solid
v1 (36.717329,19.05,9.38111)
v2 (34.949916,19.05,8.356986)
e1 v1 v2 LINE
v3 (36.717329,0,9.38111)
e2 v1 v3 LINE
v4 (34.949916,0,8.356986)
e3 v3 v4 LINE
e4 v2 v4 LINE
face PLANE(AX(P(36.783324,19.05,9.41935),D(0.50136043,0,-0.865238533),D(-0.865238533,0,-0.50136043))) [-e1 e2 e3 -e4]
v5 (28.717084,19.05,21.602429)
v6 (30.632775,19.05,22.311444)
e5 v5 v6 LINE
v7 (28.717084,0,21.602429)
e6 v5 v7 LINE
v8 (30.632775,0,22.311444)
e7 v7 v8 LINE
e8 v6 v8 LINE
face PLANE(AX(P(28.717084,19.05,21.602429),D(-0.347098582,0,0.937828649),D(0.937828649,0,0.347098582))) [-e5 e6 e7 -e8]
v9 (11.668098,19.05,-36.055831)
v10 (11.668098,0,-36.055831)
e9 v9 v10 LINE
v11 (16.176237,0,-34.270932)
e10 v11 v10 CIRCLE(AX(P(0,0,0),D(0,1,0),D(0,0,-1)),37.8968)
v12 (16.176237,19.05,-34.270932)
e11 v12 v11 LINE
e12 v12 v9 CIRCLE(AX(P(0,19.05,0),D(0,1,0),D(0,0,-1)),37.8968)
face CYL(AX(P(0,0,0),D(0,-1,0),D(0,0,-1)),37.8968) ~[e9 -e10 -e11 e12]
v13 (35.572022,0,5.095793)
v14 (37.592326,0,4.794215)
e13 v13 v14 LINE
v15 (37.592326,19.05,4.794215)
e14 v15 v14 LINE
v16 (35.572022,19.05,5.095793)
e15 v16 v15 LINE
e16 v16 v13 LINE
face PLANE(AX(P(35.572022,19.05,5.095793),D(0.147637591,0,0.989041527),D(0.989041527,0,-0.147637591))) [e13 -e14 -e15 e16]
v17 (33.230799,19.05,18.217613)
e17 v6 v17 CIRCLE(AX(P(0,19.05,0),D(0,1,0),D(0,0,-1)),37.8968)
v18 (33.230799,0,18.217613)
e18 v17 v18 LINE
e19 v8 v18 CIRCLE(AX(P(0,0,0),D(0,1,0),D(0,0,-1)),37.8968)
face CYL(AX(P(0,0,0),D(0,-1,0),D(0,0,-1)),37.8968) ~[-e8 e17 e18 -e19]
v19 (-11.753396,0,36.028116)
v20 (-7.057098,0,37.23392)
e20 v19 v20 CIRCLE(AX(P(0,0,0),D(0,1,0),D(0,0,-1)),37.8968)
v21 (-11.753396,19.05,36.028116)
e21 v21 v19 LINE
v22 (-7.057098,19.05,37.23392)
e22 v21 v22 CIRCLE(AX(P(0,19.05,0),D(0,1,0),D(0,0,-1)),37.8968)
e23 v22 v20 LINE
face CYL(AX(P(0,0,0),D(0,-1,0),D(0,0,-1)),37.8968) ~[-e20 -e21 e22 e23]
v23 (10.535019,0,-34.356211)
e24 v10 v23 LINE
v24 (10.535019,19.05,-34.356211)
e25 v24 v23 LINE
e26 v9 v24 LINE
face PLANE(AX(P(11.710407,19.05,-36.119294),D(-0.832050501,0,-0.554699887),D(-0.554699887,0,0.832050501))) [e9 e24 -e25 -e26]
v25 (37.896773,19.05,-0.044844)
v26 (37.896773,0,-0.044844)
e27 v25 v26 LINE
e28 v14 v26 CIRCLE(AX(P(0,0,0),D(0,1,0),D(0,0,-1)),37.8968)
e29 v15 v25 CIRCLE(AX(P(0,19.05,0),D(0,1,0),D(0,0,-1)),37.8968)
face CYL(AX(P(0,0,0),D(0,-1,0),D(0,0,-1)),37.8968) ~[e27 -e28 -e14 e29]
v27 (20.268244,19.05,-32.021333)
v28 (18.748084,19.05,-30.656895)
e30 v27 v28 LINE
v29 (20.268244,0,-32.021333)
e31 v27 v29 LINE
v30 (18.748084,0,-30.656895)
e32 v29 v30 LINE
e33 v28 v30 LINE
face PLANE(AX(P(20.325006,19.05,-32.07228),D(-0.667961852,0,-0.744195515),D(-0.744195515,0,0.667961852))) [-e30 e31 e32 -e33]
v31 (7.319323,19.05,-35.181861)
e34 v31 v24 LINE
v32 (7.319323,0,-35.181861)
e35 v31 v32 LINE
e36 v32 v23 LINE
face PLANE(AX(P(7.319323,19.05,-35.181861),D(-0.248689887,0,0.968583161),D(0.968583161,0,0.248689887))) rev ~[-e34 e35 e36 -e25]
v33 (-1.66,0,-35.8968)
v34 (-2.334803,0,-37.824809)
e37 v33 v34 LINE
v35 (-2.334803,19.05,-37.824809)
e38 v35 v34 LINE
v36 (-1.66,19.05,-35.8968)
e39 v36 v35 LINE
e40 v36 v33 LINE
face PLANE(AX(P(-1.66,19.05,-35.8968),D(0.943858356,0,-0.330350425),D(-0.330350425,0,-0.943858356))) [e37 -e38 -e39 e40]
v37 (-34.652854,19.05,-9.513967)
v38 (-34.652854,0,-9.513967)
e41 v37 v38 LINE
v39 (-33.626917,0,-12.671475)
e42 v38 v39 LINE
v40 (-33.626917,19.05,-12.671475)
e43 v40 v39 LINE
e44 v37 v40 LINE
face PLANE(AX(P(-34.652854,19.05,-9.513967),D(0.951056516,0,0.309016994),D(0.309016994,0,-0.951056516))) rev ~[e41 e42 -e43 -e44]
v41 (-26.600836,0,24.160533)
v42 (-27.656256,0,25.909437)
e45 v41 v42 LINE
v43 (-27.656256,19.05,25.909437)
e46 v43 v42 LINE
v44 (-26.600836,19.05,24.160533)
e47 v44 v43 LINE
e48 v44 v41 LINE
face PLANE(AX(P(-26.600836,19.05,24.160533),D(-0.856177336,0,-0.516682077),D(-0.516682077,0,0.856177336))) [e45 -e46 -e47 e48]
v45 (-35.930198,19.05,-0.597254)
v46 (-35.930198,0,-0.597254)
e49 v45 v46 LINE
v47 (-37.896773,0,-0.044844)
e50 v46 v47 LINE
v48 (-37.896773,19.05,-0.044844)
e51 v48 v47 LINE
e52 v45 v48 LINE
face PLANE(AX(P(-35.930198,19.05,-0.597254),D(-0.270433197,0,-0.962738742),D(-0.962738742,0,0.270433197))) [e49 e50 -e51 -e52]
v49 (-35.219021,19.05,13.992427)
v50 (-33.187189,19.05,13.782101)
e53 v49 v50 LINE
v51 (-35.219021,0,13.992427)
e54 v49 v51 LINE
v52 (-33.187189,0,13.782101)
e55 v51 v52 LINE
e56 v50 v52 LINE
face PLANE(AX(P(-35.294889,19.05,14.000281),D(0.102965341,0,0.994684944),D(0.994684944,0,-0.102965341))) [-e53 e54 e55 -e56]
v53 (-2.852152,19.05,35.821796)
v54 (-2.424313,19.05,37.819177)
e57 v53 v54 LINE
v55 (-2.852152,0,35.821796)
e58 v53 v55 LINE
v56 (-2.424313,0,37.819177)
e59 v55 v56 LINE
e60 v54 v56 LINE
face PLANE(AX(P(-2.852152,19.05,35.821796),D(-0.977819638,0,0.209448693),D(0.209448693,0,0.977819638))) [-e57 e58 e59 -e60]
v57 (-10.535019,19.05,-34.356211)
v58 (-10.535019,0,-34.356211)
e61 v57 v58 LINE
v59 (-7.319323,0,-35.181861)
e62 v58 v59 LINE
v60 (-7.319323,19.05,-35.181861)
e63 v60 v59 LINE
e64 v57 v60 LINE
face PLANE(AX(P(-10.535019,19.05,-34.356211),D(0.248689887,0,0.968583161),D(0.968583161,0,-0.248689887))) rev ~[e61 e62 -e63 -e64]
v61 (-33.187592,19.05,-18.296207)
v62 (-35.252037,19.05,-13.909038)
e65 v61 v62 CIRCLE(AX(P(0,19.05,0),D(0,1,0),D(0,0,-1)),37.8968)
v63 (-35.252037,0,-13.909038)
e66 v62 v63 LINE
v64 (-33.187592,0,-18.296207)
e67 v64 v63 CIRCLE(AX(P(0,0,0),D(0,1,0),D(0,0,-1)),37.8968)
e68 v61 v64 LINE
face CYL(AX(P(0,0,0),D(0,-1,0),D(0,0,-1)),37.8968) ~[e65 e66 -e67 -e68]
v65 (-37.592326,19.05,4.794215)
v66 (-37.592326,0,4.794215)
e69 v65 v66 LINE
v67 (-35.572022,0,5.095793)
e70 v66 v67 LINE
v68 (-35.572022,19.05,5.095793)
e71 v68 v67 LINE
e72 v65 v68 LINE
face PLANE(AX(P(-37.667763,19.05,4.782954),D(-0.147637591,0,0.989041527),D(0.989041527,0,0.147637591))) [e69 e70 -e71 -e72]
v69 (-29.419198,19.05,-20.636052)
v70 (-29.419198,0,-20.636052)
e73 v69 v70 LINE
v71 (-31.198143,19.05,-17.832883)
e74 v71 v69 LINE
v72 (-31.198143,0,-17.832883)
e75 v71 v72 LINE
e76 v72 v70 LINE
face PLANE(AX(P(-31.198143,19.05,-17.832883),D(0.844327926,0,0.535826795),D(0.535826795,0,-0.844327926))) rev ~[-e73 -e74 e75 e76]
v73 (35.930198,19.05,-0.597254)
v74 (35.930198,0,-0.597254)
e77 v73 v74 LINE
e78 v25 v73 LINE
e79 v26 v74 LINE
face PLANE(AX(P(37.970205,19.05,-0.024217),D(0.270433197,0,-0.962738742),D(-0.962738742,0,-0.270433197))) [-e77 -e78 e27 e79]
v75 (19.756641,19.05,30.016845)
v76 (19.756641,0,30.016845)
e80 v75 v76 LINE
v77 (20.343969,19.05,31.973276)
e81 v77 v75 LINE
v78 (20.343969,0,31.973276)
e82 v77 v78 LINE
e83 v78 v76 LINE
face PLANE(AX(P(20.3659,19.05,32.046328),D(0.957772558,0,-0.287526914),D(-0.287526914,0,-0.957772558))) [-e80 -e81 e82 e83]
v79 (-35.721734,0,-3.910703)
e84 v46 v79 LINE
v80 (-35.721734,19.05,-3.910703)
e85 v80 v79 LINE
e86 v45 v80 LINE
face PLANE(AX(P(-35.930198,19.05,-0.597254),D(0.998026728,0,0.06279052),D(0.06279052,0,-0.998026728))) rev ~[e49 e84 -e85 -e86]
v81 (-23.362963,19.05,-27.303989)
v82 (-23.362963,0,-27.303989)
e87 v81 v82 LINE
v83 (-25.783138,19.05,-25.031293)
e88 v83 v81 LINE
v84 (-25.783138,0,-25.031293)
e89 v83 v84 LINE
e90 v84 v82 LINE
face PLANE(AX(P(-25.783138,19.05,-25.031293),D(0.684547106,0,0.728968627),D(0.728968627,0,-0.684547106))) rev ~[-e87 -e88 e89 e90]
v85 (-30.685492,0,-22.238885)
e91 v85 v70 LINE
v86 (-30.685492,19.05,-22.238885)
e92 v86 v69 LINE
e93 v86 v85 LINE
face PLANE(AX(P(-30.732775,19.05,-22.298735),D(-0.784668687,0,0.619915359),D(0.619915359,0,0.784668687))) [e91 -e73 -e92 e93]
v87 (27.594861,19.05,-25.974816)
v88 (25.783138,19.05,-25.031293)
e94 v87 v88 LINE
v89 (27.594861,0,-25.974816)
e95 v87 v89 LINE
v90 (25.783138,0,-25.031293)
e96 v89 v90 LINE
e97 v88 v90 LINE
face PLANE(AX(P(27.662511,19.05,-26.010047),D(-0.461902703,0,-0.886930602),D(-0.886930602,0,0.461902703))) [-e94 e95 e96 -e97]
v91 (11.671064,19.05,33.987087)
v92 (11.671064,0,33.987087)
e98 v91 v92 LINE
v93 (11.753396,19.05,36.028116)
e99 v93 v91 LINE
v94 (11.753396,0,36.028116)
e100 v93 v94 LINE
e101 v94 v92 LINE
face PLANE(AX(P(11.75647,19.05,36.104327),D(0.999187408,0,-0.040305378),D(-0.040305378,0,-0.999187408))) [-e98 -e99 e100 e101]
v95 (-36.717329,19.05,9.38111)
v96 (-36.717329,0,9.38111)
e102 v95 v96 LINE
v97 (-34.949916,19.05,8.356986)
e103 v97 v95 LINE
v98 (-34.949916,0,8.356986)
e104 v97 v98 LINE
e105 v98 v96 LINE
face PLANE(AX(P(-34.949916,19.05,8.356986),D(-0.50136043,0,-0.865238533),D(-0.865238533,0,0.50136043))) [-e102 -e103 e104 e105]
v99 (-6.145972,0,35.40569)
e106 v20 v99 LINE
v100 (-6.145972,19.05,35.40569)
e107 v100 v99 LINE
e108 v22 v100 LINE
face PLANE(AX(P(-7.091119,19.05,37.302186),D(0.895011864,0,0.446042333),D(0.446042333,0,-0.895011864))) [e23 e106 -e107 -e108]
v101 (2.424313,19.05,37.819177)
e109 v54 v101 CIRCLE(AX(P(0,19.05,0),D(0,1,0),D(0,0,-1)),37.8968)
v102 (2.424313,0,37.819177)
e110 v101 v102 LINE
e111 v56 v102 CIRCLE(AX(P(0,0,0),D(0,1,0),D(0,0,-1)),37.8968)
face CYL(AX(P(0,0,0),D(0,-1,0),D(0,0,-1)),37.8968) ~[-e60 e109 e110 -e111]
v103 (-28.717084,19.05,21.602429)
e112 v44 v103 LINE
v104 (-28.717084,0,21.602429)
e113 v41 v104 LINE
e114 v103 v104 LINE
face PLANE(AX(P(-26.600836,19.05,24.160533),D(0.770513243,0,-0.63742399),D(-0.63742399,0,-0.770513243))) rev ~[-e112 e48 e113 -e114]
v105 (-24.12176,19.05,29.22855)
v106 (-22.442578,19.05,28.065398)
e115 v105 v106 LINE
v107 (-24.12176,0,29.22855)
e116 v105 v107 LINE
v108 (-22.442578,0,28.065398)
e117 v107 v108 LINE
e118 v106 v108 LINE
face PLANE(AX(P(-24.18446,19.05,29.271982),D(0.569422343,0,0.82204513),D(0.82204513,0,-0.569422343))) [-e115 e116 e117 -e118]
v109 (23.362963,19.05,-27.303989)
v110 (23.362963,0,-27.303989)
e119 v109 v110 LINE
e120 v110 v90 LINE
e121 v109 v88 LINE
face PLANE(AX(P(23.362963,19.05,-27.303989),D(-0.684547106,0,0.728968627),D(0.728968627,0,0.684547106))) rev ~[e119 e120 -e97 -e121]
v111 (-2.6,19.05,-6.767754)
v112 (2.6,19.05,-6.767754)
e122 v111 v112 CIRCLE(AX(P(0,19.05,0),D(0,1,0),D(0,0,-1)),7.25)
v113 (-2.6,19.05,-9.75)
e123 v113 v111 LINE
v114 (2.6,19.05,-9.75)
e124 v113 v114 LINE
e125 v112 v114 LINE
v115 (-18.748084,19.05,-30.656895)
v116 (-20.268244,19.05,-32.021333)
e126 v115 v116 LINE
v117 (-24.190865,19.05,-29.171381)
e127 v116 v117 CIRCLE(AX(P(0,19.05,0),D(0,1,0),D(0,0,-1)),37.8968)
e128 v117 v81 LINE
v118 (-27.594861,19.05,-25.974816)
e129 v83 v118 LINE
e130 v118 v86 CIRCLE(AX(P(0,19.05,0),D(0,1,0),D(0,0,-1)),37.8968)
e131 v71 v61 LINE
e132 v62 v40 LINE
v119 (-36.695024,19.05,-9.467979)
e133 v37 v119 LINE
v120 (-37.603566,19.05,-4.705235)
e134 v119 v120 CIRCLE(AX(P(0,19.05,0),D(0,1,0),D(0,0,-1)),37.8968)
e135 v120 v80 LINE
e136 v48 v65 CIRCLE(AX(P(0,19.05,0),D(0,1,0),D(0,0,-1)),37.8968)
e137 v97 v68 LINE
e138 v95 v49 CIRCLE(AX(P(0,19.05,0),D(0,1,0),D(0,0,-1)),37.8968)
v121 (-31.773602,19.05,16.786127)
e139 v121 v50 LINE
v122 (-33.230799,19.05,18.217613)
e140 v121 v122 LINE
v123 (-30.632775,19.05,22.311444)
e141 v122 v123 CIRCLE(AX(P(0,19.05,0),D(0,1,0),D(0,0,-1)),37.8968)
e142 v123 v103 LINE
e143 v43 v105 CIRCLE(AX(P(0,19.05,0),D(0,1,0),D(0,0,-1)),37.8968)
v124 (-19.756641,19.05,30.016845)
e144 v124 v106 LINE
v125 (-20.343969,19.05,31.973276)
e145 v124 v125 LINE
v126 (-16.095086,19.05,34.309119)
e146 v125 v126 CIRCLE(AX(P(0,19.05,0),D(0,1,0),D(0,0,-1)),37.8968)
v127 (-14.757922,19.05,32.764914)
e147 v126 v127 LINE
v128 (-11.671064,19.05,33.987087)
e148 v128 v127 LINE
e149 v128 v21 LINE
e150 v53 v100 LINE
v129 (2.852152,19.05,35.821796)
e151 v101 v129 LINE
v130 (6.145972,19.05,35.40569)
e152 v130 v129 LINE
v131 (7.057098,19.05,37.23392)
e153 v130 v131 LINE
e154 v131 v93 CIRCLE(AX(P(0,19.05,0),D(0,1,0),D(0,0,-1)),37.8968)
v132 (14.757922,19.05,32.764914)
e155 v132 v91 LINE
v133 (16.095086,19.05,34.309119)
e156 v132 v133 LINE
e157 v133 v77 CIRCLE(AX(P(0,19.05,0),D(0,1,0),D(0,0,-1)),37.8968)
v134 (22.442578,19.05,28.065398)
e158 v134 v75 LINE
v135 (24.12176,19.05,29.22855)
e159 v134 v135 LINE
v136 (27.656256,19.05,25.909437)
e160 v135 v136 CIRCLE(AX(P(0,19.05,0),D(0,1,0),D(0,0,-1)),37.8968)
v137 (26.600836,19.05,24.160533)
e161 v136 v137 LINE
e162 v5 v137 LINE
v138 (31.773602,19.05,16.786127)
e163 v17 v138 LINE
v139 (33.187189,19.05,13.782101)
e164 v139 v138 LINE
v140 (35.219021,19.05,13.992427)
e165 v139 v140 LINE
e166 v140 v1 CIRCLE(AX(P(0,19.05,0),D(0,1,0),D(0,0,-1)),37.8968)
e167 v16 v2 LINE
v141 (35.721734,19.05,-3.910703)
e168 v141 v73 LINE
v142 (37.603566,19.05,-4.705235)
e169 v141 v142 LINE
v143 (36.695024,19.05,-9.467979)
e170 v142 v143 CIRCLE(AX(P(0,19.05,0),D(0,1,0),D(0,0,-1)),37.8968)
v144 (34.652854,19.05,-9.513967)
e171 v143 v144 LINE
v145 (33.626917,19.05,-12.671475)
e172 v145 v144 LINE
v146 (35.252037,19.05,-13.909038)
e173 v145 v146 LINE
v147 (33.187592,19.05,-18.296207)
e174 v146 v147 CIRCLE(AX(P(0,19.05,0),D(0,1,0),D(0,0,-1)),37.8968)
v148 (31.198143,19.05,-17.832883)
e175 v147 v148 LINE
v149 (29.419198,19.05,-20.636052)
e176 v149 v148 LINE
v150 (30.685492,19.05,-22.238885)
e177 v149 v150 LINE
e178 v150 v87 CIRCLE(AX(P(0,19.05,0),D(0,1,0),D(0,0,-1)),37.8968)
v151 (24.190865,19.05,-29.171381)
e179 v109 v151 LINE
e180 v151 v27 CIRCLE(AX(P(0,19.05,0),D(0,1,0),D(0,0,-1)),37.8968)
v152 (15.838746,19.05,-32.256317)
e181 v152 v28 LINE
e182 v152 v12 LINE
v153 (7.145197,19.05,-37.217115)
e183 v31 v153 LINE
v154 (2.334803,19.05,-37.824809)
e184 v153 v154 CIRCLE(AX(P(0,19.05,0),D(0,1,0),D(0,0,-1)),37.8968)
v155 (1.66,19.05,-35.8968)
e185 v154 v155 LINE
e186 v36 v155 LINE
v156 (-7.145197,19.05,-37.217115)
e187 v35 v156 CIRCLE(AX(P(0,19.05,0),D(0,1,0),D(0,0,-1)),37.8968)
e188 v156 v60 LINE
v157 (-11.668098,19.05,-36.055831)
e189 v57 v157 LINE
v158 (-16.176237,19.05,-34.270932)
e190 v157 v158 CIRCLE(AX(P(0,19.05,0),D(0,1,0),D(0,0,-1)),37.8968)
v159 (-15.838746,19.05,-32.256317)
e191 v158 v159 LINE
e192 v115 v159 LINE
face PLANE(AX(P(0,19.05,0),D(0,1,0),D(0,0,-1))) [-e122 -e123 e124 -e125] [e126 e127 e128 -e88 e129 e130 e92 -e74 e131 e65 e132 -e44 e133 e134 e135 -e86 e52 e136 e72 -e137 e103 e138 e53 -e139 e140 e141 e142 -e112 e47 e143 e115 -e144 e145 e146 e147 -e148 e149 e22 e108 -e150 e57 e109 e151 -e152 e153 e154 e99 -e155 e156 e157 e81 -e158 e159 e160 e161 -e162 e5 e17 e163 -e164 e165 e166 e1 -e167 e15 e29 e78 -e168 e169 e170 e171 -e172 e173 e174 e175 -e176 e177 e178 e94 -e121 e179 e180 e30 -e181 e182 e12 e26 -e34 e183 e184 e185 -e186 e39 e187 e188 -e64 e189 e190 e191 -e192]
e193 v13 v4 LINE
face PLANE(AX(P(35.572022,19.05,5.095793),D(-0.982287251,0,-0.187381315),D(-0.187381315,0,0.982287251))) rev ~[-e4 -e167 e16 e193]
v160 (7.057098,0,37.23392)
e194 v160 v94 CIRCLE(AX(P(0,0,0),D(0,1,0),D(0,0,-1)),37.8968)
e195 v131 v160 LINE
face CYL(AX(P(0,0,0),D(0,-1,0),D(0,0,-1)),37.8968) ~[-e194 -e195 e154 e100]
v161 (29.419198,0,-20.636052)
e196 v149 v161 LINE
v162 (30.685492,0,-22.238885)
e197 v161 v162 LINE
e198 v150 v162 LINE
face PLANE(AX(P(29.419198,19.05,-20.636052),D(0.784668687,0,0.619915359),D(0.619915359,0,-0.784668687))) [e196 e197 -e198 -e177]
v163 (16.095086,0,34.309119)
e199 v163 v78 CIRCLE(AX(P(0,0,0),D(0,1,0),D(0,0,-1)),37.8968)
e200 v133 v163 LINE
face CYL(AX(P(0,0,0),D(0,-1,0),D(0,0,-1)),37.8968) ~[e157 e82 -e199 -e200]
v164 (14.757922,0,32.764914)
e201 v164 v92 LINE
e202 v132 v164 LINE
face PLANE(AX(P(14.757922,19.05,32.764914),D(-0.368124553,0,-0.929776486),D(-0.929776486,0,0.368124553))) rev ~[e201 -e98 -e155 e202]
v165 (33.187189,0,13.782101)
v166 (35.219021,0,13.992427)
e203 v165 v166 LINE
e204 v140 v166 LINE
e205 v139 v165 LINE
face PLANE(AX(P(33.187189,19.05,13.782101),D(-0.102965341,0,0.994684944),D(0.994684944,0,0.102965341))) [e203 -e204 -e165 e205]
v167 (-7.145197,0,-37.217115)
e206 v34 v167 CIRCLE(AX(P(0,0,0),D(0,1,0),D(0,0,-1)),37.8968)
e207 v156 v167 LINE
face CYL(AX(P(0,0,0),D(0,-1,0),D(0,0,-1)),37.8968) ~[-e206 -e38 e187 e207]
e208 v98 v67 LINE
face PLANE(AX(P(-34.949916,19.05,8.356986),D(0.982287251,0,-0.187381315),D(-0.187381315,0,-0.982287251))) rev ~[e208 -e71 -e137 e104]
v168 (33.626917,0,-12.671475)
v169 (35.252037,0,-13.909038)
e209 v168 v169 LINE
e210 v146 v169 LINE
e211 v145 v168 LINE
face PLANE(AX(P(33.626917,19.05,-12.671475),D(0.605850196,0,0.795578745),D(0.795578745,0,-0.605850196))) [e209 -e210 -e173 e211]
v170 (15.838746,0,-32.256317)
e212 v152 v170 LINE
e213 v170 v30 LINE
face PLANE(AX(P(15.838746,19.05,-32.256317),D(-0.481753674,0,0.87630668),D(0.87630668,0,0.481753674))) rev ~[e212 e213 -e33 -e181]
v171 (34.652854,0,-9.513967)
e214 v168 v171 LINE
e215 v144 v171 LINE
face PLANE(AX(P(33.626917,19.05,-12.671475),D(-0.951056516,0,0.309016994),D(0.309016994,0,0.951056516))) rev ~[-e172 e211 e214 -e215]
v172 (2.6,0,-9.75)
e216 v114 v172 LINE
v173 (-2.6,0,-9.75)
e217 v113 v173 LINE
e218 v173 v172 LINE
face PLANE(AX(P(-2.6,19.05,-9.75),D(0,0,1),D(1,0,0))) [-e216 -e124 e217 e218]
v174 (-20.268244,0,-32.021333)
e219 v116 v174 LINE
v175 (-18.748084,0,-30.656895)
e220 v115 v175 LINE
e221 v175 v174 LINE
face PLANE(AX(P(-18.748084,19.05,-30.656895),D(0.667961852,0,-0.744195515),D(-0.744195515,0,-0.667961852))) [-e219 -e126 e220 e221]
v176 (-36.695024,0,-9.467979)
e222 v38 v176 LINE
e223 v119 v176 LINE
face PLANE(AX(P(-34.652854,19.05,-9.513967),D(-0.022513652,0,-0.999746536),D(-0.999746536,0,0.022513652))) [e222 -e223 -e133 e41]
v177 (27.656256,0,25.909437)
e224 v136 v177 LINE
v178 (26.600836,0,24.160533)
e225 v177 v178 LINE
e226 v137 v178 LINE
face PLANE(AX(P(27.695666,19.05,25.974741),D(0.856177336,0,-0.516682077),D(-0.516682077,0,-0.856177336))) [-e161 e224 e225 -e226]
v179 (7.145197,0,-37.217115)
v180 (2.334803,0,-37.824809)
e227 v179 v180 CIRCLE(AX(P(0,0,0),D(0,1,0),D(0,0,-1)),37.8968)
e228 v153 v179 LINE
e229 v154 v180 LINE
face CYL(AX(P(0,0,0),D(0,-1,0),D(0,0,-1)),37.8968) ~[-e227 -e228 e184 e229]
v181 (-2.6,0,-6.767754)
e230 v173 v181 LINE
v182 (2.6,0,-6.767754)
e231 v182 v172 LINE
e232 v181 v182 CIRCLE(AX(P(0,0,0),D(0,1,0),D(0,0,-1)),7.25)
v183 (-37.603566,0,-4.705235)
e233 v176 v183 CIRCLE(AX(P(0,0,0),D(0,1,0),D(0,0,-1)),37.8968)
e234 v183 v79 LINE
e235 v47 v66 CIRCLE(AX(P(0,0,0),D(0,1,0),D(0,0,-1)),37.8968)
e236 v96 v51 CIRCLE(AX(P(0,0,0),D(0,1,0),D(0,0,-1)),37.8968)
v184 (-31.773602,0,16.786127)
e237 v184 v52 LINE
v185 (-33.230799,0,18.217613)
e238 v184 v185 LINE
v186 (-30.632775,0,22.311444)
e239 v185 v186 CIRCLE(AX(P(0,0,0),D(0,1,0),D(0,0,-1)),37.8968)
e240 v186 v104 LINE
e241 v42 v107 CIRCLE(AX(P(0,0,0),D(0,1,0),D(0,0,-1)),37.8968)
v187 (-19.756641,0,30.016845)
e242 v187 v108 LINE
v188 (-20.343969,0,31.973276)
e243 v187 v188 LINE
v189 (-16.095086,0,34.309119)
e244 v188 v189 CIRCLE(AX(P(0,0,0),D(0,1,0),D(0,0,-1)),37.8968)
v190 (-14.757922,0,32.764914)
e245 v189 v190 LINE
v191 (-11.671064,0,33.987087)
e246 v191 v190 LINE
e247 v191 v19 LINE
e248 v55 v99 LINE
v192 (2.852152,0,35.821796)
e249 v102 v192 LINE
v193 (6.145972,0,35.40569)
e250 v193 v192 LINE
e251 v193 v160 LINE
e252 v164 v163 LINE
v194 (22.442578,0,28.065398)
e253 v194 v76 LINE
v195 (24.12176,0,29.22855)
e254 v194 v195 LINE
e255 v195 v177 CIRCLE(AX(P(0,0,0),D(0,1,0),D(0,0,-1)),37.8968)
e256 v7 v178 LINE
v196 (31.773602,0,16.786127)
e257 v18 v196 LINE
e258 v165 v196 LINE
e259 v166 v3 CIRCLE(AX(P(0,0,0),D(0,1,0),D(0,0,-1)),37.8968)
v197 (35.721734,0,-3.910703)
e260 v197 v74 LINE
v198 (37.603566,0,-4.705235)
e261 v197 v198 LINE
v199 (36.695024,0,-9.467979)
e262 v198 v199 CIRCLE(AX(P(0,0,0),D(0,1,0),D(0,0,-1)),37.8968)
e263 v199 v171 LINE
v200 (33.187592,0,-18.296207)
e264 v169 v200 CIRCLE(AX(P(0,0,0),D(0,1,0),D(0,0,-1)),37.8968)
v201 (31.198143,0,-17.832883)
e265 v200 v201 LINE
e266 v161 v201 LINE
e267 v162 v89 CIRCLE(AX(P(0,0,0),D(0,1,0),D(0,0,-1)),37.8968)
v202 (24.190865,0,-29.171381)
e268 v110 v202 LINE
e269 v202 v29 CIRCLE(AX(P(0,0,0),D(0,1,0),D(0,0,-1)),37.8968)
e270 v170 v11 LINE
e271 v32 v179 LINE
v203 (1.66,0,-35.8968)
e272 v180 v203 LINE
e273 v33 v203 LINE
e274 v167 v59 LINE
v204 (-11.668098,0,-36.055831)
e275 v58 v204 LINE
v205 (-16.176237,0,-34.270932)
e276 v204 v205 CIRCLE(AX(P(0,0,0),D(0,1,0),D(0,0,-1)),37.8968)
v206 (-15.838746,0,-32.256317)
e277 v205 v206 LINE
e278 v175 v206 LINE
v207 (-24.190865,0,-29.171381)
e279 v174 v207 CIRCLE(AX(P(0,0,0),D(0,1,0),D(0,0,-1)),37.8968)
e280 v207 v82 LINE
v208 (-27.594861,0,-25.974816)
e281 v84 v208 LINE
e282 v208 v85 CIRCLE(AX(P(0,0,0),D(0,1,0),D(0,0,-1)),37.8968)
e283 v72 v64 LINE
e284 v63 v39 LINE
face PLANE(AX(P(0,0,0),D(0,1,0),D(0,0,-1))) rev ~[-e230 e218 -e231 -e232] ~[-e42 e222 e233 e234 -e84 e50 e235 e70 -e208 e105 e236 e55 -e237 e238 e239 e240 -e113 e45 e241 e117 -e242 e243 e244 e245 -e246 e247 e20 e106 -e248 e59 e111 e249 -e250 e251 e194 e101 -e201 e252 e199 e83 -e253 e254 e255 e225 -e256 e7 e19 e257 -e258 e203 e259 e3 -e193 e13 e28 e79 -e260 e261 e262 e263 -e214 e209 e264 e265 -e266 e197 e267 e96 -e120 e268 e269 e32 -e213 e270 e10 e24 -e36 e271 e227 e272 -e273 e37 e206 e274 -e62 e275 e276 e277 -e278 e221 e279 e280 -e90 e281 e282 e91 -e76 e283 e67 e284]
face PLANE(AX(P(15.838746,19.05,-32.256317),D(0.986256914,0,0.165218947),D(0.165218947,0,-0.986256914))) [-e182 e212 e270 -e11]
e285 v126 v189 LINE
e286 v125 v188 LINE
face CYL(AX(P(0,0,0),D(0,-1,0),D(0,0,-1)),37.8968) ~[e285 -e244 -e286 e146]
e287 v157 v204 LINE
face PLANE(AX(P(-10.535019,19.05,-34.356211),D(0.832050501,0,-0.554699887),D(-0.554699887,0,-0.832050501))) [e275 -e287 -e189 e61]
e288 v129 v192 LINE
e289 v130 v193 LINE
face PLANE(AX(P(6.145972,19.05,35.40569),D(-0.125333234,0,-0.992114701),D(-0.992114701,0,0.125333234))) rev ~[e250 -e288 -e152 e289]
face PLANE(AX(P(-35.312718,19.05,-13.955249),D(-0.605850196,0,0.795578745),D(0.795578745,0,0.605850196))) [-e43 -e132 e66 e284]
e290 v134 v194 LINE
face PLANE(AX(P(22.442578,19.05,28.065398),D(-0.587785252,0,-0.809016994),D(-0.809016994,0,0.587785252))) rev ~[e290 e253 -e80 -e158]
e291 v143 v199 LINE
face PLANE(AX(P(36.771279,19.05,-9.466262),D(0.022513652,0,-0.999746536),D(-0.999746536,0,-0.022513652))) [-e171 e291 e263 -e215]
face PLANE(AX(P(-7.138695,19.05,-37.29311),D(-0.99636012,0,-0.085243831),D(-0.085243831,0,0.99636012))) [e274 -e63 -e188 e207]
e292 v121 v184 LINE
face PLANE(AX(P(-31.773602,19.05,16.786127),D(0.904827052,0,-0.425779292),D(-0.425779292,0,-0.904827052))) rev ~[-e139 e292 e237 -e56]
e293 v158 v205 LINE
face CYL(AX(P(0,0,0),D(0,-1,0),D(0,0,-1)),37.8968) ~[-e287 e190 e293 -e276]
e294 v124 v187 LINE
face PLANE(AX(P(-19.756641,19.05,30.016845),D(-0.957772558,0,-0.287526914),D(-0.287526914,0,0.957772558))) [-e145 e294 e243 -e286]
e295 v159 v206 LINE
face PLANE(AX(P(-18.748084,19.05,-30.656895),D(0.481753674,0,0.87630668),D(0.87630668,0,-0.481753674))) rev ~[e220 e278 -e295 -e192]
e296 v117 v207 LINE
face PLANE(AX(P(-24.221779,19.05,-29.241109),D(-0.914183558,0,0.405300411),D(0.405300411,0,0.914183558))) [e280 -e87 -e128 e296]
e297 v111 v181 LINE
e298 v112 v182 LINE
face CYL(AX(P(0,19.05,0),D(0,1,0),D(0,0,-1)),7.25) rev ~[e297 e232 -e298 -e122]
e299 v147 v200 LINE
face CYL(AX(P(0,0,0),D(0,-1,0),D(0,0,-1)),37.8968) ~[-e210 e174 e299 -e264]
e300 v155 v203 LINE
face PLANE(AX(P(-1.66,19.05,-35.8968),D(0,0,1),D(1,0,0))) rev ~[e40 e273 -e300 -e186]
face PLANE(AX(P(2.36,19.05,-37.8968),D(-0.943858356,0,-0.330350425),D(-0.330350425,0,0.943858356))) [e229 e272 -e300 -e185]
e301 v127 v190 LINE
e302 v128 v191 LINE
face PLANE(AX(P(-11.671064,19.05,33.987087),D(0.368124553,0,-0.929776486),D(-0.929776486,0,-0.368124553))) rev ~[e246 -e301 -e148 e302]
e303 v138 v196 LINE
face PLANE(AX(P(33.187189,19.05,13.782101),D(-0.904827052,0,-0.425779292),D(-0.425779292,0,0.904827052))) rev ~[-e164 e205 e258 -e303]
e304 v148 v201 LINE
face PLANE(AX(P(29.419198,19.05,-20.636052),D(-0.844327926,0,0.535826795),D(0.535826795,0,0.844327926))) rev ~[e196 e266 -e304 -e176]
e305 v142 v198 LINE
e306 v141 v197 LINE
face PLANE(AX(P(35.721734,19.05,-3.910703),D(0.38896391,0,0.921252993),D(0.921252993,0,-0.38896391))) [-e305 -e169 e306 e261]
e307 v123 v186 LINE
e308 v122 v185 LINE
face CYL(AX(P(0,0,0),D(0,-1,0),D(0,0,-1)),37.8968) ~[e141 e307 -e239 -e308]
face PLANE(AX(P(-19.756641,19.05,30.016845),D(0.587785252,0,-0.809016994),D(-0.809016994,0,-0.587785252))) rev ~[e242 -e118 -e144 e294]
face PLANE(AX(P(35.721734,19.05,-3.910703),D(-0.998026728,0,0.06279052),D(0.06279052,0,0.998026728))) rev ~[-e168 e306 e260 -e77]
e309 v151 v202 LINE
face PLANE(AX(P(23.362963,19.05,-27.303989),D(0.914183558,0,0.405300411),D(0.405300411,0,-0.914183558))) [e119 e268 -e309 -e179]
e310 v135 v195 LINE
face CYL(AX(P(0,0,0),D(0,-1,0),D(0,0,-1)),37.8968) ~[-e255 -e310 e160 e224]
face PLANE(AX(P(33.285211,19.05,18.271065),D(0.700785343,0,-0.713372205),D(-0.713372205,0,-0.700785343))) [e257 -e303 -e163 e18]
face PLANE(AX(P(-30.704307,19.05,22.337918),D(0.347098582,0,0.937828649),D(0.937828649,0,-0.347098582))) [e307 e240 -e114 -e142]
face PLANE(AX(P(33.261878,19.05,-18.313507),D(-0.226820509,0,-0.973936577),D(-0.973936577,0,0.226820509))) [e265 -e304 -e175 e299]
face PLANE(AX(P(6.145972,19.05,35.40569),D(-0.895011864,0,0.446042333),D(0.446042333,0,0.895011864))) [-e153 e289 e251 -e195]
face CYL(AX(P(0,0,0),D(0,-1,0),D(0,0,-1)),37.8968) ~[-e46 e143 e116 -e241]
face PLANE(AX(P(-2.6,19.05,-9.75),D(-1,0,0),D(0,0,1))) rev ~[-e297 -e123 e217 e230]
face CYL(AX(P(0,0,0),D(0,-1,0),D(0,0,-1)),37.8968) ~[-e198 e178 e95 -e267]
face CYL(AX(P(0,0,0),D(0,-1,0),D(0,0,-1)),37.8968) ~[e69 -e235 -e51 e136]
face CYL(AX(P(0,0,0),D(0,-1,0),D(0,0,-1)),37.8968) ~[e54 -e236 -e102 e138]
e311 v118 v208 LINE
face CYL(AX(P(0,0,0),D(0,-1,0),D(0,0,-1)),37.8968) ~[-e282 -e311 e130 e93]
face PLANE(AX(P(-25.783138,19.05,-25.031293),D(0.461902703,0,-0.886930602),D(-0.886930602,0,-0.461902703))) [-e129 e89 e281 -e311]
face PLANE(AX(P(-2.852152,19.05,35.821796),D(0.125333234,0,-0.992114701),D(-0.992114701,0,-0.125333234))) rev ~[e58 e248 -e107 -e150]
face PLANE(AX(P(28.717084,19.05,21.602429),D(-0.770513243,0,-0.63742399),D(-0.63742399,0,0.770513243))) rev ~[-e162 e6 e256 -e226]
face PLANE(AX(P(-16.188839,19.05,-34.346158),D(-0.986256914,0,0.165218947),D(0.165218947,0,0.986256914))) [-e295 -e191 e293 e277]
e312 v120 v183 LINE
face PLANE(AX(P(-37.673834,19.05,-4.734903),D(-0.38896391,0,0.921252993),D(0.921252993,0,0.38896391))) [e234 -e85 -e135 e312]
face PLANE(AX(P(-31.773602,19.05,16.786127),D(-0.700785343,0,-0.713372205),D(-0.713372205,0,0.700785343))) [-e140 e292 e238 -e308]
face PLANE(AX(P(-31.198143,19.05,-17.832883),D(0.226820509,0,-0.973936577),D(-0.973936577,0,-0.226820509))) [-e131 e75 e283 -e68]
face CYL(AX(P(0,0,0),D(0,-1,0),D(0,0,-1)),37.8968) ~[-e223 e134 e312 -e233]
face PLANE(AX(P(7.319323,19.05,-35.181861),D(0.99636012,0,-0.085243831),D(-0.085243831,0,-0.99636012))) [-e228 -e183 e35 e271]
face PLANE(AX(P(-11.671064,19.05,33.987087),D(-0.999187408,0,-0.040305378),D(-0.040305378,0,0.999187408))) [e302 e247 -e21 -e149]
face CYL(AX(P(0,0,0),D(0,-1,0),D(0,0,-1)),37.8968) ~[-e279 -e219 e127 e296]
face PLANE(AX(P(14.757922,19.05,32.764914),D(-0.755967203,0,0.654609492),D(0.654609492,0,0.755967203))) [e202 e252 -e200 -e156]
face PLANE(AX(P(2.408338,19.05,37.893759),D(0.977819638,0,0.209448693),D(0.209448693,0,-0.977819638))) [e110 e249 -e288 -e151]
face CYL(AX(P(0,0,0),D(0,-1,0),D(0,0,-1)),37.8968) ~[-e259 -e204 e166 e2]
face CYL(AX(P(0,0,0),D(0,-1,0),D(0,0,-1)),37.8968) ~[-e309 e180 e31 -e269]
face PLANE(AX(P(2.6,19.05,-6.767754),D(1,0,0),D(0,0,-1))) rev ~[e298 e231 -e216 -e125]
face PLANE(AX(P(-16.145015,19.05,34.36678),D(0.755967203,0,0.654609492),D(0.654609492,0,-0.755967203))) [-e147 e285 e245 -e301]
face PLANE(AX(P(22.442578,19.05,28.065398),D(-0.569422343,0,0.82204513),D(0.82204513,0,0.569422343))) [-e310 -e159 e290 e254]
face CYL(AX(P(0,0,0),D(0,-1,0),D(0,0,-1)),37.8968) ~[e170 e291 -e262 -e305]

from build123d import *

# Parameters (mm, degrees)
SKETCH5_R           = 37.8968
BOSS_EXTRUDE2_DEPTH = 19.05
CUT_EXTRUDE1_DEPTH  = 22.05
CIRPATTERN1_COUNT   = 25
SKETCH9_R           = 7.25
CUT_EXTRUDE2_DEPTH  = 25.4


with BuildPart() as part:
    # Sketch5 → Boss-Extrude2 (new body)
    with BuildSketch(Plane(origin=(0, 0, 0), x_dir=(1, 0, 0), z_dir=(0, 1, 0))):
        with Locations(Location((0, 0, 0), (0, 0, 90))):
            Circle(SKETCH5_R)
    extrude(amount=BOSS_EXTRUDE2_DEPTH)

    # Sketch8 → Cut-Extrude1 (cut)
    with BuildSketch(Plane(origin=(0, 19.05, 0), x_dir=(1, 0, 0), z_dir=(0, 1, 0))):
        Polygon((0, 37.8968), (2.36, 37.8968), (1.66, 35.8968), (0, 35.8968), (-1.66, 35.8968), (-2.36, 37.8968), align=None)
    cut_extrude1 = extrude(amount=-CUT_EXTRUDE1_DEPTH, mode=Mode.SUBTRACT)

    # CirPattern1: Cut-Extrude1 ×25 about axis
    cirpattern1_axis = Axis((0, 0, 0), (0, 1, 0))
    for i in range(1, CIRPATTERN1_COUNT):
        add(cut_extrude1.rotate(cirpattern1_axis, i * 360 / CIRPATTERN1_COUNT), mode=Mode.SUBTRACT)

    # Sketch9 → Cut-Extrude2 (cut)
    with BuildSketch(Plane(origin=(0, 19.05, 0), x_dir=(1, 0, 0), z_dir=(0, 1, 0))):
        Circle(SKETCH9_R)
        Polygon((2.6, 9.75), (2.6, 7.25), (0, 7.25), (-2.6, 7.25), (-2.6, 9.75), align=None)
        with BuildLine():
            ThreePointArc((-2.6, 6.767754428), (-1.32217253, 7.128419166), (0, 7.25))
            Line((0, 7.25), (-2.6, 7.25))
            Line((-2.6, 7.25), (-2.6, 6.767754428))
        make_face()
        with BuildLine():
            Line((2.6, 7.25), (0, 7.25))
            ThreePointArc((0, 7.25), (1.32217253, 7.128419166), (2.6, 6.767754428))
            Line((2.6, 6.767754428), (2.6, 7.25))
        make_face()
    extrude(amount=-CUT_EXTRUDE2_DEPTH, mode=Mode.SUBTRACT)


solid = part.part
